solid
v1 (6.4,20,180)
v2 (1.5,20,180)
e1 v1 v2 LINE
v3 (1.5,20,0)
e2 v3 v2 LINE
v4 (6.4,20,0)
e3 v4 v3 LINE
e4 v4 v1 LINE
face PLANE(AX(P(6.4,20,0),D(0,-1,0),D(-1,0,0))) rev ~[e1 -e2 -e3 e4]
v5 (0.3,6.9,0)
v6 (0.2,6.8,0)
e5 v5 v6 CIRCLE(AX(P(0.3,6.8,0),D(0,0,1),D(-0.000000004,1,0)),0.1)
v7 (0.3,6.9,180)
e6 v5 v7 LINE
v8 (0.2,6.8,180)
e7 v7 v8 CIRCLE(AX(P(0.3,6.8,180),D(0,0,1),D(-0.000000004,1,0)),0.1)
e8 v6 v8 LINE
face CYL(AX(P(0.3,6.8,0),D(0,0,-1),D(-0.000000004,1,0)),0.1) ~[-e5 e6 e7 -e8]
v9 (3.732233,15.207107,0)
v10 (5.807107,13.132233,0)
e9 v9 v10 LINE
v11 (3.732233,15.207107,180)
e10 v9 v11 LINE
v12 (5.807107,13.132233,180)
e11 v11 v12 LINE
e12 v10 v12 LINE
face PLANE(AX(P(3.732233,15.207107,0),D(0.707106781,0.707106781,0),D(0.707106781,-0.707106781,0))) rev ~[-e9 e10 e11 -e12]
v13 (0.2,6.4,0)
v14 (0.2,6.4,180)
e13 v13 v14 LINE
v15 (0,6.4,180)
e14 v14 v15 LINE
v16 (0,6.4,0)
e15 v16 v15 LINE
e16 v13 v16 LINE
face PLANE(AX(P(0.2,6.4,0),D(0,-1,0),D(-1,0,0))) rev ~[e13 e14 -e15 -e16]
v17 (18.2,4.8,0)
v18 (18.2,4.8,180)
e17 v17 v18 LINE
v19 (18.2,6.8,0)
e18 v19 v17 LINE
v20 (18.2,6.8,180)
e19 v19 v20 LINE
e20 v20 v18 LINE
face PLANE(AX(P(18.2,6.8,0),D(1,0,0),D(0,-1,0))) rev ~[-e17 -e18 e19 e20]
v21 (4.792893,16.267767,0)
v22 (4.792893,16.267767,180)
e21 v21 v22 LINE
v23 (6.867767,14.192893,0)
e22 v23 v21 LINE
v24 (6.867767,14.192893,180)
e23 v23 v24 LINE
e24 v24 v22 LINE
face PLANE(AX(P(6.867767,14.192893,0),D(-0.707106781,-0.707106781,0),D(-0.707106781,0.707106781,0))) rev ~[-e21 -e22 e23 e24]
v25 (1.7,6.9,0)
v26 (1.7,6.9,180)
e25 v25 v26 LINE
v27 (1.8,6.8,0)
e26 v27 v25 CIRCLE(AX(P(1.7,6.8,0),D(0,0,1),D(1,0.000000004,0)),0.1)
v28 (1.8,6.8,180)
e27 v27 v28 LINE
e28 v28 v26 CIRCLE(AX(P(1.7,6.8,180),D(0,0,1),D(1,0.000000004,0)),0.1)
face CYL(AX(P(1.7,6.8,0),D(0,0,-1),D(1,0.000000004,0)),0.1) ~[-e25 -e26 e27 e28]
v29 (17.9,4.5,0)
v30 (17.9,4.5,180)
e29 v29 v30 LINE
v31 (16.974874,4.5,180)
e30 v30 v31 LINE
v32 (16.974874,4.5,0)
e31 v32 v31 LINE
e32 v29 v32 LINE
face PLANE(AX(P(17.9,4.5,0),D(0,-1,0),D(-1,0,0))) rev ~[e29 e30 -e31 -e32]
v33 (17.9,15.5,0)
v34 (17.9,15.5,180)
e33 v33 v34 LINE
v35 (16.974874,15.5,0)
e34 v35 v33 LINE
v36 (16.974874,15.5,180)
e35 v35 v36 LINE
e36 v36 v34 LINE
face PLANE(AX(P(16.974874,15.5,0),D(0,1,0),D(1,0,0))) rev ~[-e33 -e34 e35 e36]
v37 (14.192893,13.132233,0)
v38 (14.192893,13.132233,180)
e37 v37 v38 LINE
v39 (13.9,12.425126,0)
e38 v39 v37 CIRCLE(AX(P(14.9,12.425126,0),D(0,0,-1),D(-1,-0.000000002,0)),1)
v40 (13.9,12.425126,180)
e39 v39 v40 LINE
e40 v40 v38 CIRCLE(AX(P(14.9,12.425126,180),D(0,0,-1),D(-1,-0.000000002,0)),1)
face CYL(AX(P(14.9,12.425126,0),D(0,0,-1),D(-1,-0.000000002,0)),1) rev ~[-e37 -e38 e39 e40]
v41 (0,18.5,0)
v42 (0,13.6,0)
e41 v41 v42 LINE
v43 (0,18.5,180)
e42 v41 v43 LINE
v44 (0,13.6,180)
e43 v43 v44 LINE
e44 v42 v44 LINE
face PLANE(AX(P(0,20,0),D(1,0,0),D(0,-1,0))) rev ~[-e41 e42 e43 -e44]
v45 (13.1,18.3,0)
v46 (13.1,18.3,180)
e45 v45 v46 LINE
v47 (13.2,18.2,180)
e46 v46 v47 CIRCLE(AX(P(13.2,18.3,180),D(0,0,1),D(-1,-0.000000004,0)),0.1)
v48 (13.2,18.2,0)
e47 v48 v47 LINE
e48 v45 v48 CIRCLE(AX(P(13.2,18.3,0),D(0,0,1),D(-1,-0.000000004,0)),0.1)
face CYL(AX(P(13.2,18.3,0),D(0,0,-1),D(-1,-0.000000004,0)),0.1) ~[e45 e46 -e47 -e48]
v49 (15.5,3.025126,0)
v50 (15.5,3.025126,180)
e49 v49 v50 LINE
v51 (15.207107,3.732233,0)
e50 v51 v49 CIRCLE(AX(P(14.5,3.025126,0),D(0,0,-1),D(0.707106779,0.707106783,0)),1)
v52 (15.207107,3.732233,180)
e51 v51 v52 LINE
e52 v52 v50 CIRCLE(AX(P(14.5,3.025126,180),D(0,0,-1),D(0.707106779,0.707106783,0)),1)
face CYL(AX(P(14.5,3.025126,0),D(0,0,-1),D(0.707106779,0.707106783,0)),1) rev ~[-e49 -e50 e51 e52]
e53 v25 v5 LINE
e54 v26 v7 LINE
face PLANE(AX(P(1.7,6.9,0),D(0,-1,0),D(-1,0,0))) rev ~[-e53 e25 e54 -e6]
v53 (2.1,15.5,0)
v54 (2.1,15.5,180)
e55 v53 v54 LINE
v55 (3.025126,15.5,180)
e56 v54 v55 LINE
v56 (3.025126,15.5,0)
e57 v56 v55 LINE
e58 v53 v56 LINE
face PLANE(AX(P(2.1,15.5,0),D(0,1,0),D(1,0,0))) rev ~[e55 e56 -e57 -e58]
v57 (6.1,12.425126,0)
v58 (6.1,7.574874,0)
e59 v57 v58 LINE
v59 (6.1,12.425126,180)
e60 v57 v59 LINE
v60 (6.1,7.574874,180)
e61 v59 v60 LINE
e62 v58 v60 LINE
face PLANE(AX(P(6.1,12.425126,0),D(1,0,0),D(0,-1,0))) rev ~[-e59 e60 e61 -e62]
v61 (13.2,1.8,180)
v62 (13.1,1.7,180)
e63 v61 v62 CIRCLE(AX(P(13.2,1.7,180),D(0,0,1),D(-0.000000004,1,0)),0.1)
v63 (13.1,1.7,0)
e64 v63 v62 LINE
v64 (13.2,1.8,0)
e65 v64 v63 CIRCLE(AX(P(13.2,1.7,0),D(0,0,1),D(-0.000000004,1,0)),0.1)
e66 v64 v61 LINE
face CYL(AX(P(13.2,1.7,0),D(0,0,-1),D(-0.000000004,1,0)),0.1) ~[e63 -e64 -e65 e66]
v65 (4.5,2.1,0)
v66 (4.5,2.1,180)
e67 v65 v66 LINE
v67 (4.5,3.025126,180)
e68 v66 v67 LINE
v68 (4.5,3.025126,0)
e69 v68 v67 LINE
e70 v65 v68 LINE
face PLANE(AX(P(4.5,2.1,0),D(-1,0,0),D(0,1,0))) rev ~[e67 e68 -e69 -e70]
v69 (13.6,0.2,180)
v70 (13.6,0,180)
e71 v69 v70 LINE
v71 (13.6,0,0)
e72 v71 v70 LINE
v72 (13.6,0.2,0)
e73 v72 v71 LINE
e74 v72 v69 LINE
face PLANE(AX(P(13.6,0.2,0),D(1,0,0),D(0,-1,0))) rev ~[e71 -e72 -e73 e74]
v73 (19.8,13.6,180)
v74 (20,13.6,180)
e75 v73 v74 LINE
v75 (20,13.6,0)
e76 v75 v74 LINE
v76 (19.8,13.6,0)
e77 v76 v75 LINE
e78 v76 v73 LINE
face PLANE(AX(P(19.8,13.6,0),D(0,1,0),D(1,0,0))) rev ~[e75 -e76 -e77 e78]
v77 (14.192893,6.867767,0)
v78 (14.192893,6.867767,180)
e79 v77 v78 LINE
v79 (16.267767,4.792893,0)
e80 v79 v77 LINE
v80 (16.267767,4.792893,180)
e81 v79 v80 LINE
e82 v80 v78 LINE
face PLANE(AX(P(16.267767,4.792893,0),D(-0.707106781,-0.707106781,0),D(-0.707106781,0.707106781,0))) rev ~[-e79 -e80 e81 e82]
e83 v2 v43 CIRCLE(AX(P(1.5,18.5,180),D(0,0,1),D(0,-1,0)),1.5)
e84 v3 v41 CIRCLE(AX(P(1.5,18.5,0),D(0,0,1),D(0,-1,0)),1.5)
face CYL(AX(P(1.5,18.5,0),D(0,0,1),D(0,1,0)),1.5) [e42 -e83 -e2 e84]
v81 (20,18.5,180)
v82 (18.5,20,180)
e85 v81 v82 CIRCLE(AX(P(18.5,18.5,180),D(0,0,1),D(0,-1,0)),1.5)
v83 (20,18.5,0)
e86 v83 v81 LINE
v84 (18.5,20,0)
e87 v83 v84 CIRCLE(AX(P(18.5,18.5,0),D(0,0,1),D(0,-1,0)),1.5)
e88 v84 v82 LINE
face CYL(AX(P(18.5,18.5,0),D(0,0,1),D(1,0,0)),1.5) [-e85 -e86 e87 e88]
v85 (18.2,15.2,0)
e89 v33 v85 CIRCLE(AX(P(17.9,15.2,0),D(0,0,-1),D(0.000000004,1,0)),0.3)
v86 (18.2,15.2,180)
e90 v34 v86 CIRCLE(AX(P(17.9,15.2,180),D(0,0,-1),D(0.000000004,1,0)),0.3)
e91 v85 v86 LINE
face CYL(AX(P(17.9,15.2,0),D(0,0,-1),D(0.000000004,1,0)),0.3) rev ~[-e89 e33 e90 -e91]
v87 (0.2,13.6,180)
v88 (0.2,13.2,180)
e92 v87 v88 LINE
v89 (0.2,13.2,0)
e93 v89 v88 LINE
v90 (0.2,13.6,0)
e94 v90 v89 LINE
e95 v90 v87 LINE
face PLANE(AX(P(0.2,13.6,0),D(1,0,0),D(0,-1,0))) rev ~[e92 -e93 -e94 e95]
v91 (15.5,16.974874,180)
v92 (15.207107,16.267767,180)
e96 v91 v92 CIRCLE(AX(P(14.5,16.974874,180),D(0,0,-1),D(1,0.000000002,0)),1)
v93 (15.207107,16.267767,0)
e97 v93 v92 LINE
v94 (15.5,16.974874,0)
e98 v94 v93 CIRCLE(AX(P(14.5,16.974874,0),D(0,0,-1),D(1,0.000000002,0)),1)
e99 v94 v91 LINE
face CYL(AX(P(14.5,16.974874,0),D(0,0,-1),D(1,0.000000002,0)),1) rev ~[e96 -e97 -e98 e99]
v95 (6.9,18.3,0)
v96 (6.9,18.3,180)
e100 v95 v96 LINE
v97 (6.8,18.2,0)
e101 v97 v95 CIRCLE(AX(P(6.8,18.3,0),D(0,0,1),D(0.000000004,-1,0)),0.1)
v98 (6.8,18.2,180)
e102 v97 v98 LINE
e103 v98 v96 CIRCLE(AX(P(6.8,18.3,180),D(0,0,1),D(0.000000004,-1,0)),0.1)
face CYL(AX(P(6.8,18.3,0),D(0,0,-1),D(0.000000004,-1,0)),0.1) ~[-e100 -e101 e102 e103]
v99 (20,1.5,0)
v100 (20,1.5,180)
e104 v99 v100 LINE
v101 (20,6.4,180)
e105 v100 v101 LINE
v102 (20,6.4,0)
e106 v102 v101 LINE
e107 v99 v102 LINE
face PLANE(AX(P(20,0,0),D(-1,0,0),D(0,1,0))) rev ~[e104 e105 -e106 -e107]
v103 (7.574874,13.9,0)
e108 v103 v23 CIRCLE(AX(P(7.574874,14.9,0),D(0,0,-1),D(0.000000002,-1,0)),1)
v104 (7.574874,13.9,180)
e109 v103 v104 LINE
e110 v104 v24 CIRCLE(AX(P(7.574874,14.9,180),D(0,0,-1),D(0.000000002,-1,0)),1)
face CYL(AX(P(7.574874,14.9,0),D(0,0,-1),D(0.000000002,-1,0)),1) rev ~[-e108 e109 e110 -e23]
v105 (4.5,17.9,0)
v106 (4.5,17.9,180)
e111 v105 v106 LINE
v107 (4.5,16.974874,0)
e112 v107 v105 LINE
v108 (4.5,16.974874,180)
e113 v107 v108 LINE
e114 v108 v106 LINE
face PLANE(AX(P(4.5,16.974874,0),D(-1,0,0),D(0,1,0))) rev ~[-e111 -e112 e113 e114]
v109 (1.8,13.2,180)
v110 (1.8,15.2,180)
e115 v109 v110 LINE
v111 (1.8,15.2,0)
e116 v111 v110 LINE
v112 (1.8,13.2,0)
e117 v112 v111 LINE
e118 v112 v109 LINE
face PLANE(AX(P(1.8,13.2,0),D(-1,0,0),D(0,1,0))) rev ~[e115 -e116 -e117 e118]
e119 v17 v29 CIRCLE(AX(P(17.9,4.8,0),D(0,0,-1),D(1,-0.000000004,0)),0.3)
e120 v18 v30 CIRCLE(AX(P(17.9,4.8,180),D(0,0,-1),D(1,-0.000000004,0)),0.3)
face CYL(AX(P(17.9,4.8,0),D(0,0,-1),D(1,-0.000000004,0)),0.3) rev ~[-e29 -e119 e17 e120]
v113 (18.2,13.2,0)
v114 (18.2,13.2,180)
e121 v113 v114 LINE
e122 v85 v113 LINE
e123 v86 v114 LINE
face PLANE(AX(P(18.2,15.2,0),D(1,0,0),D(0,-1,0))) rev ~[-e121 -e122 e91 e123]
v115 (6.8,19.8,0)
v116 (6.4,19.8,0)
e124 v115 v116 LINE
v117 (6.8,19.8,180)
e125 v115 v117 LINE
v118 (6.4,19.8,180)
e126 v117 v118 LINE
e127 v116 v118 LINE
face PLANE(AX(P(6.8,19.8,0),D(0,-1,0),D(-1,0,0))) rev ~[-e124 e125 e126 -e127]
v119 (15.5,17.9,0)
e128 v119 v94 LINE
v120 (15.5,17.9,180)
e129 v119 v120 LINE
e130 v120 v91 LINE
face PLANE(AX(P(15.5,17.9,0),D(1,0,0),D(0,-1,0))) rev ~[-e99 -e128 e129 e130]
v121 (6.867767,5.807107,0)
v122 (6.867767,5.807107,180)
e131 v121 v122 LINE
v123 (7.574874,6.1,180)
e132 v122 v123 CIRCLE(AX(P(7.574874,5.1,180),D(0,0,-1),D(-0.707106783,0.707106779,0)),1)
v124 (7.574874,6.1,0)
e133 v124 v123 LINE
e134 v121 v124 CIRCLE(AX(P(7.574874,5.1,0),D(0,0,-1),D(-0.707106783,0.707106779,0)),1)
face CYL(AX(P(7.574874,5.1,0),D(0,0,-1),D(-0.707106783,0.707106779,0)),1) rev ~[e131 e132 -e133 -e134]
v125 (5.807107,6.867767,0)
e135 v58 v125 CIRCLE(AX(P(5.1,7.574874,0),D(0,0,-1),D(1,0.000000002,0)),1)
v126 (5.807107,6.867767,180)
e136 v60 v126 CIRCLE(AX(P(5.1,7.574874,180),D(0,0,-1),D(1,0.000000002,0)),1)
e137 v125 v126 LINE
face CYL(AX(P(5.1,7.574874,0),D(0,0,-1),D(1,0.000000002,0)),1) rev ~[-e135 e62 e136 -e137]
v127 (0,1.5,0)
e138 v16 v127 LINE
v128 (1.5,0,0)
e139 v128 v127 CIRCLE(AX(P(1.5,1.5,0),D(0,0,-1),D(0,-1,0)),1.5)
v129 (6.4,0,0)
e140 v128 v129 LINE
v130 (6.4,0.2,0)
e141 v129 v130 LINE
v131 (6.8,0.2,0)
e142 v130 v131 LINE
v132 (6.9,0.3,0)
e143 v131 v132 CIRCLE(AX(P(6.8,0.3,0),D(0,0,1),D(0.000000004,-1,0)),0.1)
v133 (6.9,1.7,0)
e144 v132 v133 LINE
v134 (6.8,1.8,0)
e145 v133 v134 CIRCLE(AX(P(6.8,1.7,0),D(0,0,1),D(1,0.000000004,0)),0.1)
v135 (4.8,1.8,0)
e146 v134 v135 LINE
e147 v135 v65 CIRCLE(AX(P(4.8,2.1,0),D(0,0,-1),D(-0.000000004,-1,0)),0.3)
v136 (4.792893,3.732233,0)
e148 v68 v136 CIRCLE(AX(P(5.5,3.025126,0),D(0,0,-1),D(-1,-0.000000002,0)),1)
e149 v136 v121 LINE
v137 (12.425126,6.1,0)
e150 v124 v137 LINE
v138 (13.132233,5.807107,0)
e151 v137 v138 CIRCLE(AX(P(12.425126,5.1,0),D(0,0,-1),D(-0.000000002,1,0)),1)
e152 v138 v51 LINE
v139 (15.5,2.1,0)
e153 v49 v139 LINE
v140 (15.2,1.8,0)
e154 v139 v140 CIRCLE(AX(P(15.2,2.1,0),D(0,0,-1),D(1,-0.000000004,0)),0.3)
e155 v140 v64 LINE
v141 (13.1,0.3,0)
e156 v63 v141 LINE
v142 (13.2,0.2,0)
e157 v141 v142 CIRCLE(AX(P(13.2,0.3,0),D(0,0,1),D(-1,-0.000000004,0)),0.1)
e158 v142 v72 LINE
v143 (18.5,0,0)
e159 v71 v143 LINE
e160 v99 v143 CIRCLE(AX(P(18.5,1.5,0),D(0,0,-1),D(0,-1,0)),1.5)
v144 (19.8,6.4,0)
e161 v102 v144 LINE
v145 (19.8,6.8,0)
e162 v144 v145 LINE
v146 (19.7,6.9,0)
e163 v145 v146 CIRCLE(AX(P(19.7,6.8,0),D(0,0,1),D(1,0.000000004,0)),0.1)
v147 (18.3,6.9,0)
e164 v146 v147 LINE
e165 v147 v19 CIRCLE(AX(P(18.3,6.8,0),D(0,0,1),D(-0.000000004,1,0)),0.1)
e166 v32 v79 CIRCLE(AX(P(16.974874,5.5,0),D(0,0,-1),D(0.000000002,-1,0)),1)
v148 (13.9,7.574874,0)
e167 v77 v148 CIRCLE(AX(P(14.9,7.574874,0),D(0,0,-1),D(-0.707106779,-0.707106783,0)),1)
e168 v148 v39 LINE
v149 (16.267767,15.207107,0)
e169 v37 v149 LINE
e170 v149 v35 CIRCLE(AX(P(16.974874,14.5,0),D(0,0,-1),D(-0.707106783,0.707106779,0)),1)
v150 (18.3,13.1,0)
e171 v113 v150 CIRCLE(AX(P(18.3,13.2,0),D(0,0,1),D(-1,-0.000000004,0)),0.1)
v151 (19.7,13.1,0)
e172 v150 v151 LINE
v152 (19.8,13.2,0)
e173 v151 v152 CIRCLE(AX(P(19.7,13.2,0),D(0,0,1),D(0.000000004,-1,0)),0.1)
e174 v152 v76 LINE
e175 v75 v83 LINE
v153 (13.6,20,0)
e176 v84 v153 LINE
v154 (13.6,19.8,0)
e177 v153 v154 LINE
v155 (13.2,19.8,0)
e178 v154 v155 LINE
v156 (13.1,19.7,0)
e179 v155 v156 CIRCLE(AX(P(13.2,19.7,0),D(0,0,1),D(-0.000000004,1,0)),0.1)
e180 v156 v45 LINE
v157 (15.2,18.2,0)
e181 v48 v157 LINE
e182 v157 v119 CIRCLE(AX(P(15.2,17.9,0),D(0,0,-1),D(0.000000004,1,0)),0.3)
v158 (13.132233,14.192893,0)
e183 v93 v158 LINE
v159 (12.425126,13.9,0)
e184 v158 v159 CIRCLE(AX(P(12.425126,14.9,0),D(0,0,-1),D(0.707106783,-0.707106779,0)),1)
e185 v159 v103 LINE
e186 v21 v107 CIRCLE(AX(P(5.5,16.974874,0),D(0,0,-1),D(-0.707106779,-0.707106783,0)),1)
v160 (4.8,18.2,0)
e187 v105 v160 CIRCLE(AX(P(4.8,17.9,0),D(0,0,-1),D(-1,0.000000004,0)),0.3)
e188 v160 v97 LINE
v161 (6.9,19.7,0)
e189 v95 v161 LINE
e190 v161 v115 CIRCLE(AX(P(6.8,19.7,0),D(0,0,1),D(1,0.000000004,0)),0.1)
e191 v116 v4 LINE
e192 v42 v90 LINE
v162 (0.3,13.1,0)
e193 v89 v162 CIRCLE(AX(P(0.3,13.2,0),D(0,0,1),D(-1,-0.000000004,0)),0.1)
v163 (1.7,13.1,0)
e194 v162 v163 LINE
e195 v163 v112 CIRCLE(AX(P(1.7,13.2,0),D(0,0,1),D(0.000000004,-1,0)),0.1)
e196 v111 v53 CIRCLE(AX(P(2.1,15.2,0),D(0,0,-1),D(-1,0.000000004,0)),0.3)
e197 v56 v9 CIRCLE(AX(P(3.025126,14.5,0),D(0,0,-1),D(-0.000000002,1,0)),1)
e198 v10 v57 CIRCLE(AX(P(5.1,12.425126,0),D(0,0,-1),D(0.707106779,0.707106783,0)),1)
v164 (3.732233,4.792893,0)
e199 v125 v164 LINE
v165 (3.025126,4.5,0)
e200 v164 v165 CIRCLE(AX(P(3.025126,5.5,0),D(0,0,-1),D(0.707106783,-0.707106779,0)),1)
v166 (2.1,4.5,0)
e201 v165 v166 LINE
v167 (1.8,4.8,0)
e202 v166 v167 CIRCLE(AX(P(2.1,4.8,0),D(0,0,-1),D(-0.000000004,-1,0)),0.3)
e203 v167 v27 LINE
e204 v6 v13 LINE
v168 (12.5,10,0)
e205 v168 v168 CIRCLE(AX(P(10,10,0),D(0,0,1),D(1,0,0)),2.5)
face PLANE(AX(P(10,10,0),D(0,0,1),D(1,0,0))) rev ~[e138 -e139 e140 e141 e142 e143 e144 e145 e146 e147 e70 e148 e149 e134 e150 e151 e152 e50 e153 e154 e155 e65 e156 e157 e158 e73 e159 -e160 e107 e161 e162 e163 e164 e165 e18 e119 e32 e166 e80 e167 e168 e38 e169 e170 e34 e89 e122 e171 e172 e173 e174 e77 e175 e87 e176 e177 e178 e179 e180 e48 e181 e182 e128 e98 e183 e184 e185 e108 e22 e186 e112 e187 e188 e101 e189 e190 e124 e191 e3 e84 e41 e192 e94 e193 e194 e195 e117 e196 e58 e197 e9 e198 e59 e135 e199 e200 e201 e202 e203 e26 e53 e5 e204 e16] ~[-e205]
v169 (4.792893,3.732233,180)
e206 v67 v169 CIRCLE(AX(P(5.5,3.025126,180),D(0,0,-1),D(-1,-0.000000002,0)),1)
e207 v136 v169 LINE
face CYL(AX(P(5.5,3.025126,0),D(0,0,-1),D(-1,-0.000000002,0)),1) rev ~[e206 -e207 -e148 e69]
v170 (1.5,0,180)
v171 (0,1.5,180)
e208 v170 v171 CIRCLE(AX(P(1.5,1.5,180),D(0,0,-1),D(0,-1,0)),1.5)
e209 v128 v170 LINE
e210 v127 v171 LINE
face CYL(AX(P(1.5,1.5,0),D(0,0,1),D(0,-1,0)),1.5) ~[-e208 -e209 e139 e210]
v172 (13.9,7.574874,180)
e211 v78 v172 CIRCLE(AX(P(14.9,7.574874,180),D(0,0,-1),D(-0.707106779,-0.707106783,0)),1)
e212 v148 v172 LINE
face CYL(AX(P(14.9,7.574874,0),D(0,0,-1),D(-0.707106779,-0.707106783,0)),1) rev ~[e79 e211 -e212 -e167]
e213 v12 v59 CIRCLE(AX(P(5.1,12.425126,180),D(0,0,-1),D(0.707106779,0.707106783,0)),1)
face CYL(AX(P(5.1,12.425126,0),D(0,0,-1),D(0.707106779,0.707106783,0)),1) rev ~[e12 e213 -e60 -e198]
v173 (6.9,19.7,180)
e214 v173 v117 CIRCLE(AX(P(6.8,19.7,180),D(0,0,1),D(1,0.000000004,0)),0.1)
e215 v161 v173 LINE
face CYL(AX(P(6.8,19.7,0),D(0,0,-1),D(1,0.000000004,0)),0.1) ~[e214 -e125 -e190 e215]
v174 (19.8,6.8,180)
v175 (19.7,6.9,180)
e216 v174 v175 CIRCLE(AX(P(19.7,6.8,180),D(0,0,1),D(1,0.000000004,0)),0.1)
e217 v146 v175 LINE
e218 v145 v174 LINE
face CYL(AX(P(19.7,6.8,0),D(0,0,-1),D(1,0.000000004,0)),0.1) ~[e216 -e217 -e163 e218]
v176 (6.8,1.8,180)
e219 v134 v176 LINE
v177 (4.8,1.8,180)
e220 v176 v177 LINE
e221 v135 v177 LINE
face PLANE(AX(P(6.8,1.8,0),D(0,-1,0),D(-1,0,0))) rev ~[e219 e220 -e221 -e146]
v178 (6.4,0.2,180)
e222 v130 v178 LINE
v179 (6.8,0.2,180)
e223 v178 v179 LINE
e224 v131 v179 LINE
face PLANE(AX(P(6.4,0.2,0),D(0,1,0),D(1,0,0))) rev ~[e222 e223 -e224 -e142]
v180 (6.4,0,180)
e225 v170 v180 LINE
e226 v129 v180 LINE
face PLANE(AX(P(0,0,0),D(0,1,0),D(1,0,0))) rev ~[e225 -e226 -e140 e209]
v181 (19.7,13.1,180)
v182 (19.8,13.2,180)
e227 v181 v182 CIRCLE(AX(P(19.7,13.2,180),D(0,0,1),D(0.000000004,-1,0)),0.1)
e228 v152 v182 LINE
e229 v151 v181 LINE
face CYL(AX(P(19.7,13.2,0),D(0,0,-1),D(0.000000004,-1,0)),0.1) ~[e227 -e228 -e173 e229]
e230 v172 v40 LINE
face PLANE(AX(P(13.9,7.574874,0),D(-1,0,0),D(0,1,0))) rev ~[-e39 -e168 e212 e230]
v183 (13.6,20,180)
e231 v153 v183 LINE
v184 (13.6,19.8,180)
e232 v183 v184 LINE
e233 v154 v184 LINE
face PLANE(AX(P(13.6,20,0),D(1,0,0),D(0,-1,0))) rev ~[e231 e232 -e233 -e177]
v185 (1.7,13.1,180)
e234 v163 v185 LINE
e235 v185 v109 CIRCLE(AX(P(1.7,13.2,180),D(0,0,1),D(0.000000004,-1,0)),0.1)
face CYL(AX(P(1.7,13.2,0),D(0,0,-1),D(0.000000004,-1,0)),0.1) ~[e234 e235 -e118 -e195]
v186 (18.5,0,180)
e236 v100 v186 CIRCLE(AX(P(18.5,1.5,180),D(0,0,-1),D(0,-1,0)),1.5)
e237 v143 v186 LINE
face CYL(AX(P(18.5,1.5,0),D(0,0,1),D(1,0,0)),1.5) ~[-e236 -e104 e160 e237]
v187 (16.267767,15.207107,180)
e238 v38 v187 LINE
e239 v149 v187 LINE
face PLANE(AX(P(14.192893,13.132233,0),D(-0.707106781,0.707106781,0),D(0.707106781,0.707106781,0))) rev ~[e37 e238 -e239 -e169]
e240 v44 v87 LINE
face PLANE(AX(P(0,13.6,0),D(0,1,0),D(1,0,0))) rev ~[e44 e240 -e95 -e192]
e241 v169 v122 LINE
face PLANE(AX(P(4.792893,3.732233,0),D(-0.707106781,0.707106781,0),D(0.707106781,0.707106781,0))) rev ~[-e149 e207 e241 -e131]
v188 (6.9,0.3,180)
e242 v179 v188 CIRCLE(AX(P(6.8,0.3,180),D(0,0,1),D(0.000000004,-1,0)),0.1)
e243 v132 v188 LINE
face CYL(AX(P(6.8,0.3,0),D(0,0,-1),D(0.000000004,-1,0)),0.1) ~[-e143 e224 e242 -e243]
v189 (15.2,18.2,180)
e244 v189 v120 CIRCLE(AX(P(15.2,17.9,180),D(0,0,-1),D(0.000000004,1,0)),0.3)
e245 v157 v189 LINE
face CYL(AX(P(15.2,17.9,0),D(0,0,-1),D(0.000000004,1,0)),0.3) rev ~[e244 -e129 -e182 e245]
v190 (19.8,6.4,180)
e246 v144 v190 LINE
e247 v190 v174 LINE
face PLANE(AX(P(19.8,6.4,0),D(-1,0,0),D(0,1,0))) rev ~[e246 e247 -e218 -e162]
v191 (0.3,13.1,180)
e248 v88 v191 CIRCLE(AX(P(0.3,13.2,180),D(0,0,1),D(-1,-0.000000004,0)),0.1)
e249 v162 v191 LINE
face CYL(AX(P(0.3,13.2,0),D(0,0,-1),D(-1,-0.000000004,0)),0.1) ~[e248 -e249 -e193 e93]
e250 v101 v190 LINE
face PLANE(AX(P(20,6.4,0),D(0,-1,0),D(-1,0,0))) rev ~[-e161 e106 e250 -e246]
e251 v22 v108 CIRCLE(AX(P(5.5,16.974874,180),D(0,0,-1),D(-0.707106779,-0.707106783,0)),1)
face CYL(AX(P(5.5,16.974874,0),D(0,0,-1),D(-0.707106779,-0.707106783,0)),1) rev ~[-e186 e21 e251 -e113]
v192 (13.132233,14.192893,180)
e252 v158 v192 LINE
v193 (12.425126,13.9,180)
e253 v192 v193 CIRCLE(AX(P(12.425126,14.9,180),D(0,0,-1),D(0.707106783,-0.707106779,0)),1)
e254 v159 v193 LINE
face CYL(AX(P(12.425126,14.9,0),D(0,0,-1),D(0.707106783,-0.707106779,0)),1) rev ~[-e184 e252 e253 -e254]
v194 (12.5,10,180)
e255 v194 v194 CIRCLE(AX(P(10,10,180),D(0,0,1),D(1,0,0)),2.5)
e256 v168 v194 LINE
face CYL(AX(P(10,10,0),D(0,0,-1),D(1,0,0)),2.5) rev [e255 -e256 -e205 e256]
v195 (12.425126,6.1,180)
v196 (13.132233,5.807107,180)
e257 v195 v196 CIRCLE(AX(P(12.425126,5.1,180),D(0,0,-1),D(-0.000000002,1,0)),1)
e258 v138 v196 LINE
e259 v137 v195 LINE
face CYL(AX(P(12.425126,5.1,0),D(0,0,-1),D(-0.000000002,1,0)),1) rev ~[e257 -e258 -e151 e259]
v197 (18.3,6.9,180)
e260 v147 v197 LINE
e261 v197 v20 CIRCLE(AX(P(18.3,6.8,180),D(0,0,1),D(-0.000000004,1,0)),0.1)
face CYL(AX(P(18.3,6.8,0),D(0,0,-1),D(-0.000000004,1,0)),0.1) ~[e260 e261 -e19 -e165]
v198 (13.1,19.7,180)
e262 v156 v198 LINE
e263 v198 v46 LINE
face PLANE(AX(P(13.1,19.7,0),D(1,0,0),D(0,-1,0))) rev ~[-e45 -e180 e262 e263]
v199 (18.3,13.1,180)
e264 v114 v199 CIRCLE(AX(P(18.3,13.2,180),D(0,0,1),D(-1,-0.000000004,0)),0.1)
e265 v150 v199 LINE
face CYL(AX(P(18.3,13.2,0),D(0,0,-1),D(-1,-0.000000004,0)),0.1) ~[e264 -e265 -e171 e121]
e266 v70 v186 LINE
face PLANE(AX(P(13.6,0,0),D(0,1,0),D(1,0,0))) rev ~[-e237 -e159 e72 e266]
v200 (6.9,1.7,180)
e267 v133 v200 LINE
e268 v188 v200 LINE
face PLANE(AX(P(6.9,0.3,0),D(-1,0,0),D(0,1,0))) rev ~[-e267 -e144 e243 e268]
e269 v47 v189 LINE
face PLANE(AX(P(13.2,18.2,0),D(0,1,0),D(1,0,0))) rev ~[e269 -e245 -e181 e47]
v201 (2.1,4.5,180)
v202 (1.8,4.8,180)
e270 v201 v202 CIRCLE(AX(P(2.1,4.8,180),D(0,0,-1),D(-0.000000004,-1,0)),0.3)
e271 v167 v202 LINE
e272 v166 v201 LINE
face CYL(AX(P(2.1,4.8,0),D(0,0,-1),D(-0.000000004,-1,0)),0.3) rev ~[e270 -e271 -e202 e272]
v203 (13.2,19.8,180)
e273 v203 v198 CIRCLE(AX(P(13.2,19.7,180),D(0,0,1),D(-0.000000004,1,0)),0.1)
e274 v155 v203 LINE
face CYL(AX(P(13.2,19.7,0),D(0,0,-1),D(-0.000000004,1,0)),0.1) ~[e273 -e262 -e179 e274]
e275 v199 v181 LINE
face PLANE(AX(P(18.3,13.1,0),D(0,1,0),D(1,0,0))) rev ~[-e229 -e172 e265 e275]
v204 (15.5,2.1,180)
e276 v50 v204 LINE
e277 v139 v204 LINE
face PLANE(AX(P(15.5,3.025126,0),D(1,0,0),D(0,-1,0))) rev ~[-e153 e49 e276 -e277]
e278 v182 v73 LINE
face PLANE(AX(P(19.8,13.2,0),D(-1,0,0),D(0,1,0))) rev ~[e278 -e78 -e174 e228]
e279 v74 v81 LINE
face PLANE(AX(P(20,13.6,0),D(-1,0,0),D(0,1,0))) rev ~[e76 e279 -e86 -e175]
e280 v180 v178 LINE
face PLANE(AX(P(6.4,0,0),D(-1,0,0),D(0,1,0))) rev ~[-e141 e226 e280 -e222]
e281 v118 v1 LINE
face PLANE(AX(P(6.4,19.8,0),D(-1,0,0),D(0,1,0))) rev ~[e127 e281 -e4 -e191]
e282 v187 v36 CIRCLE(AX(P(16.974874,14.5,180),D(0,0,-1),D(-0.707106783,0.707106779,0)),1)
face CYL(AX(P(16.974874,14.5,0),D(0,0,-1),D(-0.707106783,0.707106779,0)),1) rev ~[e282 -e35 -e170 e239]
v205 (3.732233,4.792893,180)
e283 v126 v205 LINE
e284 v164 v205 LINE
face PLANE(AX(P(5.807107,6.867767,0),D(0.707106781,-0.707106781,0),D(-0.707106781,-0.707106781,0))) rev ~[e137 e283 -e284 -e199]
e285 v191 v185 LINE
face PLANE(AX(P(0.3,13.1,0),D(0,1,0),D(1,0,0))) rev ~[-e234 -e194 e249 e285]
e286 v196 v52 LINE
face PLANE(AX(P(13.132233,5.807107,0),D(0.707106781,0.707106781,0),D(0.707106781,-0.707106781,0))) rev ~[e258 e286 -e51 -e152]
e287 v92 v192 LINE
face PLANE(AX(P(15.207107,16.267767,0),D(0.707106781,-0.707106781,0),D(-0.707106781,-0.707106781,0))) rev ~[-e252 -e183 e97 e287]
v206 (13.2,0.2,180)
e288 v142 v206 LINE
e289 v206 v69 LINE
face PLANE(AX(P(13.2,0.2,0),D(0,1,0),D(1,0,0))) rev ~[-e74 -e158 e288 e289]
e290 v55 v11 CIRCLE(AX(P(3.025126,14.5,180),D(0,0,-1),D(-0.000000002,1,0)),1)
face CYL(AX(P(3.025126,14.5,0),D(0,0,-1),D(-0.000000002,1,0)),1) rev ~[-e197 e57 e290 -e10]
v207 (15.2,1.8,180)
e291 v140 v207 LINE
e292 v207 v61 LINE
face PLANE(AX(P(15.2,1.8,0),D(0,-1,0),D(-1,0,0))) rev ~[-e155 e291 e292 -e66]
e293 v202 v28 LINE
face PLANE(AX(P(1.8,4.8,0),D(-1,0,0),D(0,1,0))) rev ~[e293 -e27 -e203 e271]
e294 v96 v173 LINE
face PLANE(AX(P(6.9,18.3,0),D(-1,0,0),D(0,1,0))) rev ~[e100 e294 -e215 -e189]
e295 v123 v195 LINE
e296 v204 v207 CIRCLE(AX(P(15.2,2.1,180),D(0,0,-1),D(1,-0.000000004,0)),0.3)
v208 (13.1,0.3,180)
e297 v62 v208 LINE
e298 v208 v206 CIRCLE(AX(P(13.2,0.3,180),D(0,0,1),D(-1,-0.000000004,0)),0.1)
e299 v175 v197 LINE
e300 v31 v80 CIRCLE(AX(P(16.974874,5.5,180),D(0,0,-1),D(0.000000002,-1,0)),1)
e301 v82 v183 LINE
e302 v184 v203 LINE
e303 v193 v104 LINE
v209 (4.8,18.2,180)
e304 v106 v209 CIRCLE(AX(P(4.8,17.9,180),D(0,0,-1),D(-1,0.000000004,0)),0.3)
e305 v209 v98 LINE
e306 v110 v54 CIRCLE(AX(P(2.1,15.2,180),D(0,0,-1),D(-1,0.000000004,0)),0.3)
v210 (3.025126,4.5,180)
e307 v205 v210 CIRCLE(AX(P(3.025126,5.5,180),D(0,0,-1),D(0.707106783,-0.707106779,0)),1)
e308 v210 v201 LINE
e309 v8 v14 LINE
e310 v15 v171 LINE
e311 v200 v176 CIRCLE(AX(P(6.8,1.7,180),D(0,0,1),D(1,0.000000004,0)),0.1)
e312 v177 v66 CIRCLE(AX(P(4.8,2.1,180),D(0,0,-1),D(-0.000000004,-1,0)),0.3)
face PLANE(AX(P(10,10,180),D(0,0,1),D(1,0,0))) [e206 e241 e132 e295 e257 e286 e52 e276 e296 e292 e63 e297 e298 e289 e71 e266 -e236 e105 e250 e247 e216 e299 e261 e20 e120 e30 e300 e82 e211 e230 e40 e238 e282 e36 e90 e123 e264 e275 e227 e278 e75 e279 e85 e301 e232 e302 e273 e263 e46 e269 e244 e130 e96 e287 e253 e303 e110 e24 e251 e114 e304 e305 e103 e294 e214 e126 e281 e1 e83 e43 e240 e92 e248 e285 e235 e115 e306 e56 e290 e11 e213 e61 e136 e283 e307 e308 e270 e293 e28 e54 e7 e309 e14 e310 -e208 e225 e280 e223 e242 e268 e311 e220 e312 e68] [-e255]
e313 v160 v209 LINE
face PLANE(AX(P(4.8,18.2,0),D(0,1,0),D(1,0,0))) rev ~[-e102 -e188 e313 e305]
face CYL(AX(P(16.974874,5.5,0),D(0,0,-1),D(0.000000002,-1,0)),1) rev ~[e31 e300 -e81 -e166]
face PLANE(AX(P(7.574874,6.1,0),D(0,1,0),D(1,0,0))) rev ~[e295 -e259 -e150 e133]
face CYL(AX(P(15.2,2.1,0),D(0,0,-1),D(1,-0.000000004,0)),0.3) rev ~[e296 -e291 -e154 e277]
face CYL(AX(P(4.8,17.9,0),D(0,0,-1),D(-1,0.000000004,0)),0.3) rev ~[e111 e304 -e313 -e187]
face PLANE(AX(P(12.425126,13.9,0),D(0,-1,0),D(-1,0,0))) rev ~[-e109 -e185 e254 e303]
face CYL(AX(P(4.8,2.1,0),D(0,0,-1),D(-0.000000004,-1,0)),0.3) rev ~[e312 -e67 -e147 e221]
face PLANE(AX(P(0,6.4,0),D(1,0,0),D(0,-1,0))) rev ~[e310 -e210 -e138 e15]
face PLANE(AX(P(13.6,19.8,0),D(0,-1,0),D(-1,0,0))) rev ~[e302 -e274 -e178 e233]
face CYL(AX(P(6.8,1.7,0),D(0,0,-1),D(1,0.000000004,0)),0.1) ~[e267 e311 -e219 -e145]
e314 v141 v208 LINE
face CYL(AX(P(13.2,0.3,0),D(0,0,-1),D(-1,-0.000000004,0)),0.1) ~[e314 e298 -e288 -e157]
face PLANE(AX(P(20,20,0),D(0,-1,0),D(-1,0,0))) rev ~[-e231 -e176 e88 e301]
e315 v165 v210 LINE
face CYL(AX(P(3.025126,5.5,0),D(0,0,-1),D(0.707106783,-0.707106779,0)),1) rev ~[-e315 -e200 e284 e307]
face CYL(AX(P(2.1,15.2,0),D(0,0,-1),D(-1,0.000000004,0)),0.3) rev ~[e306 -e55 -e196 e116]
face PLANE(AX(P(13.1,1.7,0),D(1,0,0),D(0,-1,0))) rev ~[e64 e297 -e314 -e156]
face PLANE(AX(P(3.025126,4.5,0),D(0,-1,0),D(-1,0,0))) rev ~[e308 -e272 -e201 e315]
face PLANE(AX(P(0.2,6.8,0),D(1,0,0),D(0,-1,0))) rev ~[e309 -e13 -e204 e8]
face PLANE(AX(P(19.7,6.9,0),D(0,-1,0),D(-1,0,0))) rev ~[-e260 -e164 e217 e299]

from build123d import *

# Parameters (mm, degrees)
SKETCH_1_R      = 2.5
EXTRUDE_1_DEPTH = 180
FILLET_1_R      = 1.5


with BuildPart() as part:
    # 草图1 → 凸台-拉伸1 (new body)
    with BuildSketch(Plane.XY):
        with BuildLine():
            Line((20, 13.6), (20, 20))
            Line((20, 20), (13.6, 20))
            Line((13.6, 20), (13.6, 19.8))
            Line((13.6, 19.8), (13.2, 19.8))
            ThreePointArc((13.2, 19.8), (13.129289322, 19.770710678), (13.1, 19.7))
            Line((13.1, 19.7), (13.1, 18.3))
            ThreePointArc((13.1, 18.3), (13.129289322, 18.229289322), (13.2, 18.2))
            Line((13.2, 18.2), (15.2, 18.2))
            ThreePointArc((15.2, 18.2), (15.412132034, 18.112132034), (15.5, 17.9))
            Line((15.5, 17.9), (15.5, 16.974873734))
            ThreePointArc((15.5, 16.974873734), (15.423879533, 16.592190302), (15.207106781, 16.267766953))
            Line((15.207106781, 16.267766953), (13.132233047, 14.192893219))
            ThreePointArc((13.132233047, 14.192893219), (12.807809698, 13.976120467), (12.425126266, 13.9))
            Line((12.425126266, 13.9), (7.574873734, 13.9))
            ThreePointArc((7.574873734, 13.9), (7.192190302, 13.976120467), (6.867766953, 14.192893219))
            Line((6.867766953, 14.192893219), (4.792893219, 16.267766953))
            ThreePointArc((4.792893219, 16.267766953), (4.576120467, 16.592190302), (4.5, 16.974873734))
            Line((4.5, 16.974873734), (4.5, 17.9))
            ThreePointArc((4.5, 17.9), (4.587867966, 18.112132034), (4.8, 18.2))
            Line((4.8, 18.2), (6.8, 18.2))
            ThreePointArc((6.8, 18.2), (6.870710678, 18.229289322), (6.9, 18.3))
            Line((6.9, 18.3), (6.9, 19.7))
            ThreePointArc((6.9, 19.7), (6.870710678, 19.770710678), (6.8, 19.8))
            Line((6.8, 19.8), (6.4, 19.8))
            Line((6.4, 19.8), (6.4, 20))
            Line((6.4, 20), (0, 20))
            Line((0, 20), (0, 13.6))
            Line((0, 13.6), (0.2, 13.6))
            Line((0.2, 13.6), (0.2, 13.2))
            ThreePointArc((0.2, 13.2), (0.229289322, 13.129289322), (0.3, 13.1))
            Line((0.3, 13.1), (1.7, 13.1))
            ThreePointArc((1.7, 13.1), (1.770710678, 13.129289322), (1.8, 13.2))
            Line((1.8, 13.2), (1.8, 15.2))
            ThreePointArc((1.8, 15.2), (1.887867966, 15.412132034), (2.1, 15.5))
            Line((2.1, 15.5), (3.025126266, 15.5))
            ThreePointArc((3.025126266, 15.5), (3.407809698, 15.423879533), (3.732233047, 15.207106781))
            Line((3.732233047, 15.207106781), (5.807106781, 13.132233047))
            ThreePointArc((5.807106781, 13.132233047), (6.023879533, 12.807809698), (6.1, 12.425126266))
            Line((6.1, 12.425126266), (6.1, 7.574873734))
            ThreePointArc((6.1, 7.574873734), (6.023879533, 7.192190302), (5.807106781, 6.867766953))
            Line((5.807106781, 6.867766953), (3.732233047, 4.792893219))
            ThreePointArc((3.732233047, 4.792893219), (3.407809698, 4.576120467), (3.025126266, 4.5))
            Line((3.025126266, 4.5), (2.1, 4.5))
            ThreePointArc((2.1, 4.5), (1.887867966, 4.587867966), (1.8, 4.8))
            Line((1.8, 4.8), (1.8, 6.8))
            ThreePointArc((1.8, 6.8), (1.770710678, 6.870710678), (1.7, 6.9))
            Line((1.7, 6.9), (0.3, 6.9))
            ThreePointArc((0.3, 6.9), (0.229289322, 6.870710678), (0.2, 6.8))
            Line((0.2, 6.8), (0.2, 6.4))
            Line((0.2, 6.4), (0, 6.4))
            Line((0, 6.4), (0, 0))
            Line((0, 0), (6.4, 0))
            Line((6.4, 0), (6.4, 0.2))
            Line((6.4, 0.2), (6.8, 0.2))
            ThreePointArc((6.8, 0.2), (6.870710678, 0.229289322), (6.9, 0.3))
            Line((6.9, 0.3), (6.9, 1.7))
            ThreePointArc((6.9, 1.7), (6.870710678, 1.770710678), (6.8, 1.8))
            Line((6.8, 1.8), (4.8, 1.8))
            ThreePointArc((4.8, 1.8), (4.587867966, 1.887867966), (4.5, 2.1))
            Line((4.5, 2.1), (4.5, 3.025126266))
            ThreePointArc((4.5, 3.025126266), (4.576120467, 3.407809698), (4.792893219, 3.732233047))
            Line((4.792893219, 3.732233047), (6.867766953, 5.807106781))
            ThreePointArc((6.867766953, 5.807106781), (7.192190302, 6.023879533), (7.574873734, 6.1))
            Line((7.574873734, 6.1), (12.425126266, 6.1))
            ThreePointArc((12.425126266, 6.1), (12.807809698, 6.023879533), (13.132233047, 5.807106781))
            Line((13.132233047, 5.807106781), (15.207106781, 3.732233047))
            ThreePointArc((15.207106781, 3.732233047), (15.423879533, 3.407809698), (15.5, 3.025126266))
            Line((15.5, 3.025126266), (15.5, 2.1))
            ThreePointArc((15.5, 2.1), (15.412132034, 1.887867966), (15.2, 1.8))
            Line((15.2, 1.8), (13.2, 1.8))
            ThreePointArc((13.2, 1.8), (13.129289322, 1.770710678), (13.1, 1.7))
            Line((13.1, 1.7), (13.1, 0.3))
            ThreePointArc((13.1, 0.3), (13.129289322, 0.229289322), (13.2, 0.2))
            Line((13.2, 0.2), (13.6, 0.2))
            Line((13.6, 0.2), (13.6, 0))
            Line((13.6, 0), (20, 0))
            Line((20, 0), (20, 6.4))
            Line((20, 6.4), (19.8, 6.4))
            Line((19.8, 6.4), (19.8, 6.8))
            ThreePointArc((19.8, 6.8), (19.770710678, 6.870710678), (19.7, 6.9))
            Line((19.7, 6.9), (18.3, 6.9))
            ThreePointArc((18.3, 6.9), (18.229289322, 6.870710678), (18.2, 6.8))
            Line((18.2, 6.8), (18.2, 4.8))
            ThreePointArc((18.2, 4.8), (18.112132034, 4.587867966), (17.9, 4.5))
            Line((17.9, 4.5), (16.974873734, 4.5))
            ThreePointArc((16.974873734, 4.5), (16.592190302, 4.576120467), (16.267766953, 4.792893219))
            Line((16.267766953, 4.792893219), (14.192893219, 6.867766953))
            ThreePointArc((14.192893219, 6.867766953), (13.976120467, 7.192190302), (13.9, 7.574873734))
            Line((13.9, 7.574873734), (13.9, 12.425126266))
            ThreePointArc((13.9, 12.425126266), (13.976120467, 12.807809698), (14.192893219, 13.132233047))
            Line((14.192893219, 13.132233047), (16.267766953, 15.207106781))
            ThreePointArc((16.267766953, 15.207106781), (16.592190302, 15.423879533), (16.974873734, 15.5))
            Line((16.974873734, 15.5), (17.9, 15.5))
            ThreePointArc((17.9, 15.5), (18.112132034, 15.412132034), (18.2, 15.2))
            Line((18.2, 15.2), (18.2, 13.2))
            ThreePointArc((18.2, 13.2), (18.229289322, 13.129289322), (18.3, 13.1))
            Line((18.3, 13.1), (19.7, 13.1))
            ThreePointArc((19.7, 13.1), (19.770710678, 13.129289322), (19.8, 13.2))
            Line((19.8, 13.2), (19.8, 13.6))
            Line((19.8, 13.6), (20, 13.6))
        make_face()
        with Locations((10, 10)):
            Circle(SKETCH_1_R, mode=Mode.SUBTRACT)
    extrude(amount=EXTRUDE_1_DEPTH)

    # 圆角1
    fillet_1_edges = [part.edges().sort_by_distance(p)[0] for p in [
        (0, 0, 90),
        (0, 20, 90),
        (20, 20, 90),
        (20, 0, 90),
    ]]
    fillet(fillet_1_edges, radius=FILLET_1_R)


solid = part.part
